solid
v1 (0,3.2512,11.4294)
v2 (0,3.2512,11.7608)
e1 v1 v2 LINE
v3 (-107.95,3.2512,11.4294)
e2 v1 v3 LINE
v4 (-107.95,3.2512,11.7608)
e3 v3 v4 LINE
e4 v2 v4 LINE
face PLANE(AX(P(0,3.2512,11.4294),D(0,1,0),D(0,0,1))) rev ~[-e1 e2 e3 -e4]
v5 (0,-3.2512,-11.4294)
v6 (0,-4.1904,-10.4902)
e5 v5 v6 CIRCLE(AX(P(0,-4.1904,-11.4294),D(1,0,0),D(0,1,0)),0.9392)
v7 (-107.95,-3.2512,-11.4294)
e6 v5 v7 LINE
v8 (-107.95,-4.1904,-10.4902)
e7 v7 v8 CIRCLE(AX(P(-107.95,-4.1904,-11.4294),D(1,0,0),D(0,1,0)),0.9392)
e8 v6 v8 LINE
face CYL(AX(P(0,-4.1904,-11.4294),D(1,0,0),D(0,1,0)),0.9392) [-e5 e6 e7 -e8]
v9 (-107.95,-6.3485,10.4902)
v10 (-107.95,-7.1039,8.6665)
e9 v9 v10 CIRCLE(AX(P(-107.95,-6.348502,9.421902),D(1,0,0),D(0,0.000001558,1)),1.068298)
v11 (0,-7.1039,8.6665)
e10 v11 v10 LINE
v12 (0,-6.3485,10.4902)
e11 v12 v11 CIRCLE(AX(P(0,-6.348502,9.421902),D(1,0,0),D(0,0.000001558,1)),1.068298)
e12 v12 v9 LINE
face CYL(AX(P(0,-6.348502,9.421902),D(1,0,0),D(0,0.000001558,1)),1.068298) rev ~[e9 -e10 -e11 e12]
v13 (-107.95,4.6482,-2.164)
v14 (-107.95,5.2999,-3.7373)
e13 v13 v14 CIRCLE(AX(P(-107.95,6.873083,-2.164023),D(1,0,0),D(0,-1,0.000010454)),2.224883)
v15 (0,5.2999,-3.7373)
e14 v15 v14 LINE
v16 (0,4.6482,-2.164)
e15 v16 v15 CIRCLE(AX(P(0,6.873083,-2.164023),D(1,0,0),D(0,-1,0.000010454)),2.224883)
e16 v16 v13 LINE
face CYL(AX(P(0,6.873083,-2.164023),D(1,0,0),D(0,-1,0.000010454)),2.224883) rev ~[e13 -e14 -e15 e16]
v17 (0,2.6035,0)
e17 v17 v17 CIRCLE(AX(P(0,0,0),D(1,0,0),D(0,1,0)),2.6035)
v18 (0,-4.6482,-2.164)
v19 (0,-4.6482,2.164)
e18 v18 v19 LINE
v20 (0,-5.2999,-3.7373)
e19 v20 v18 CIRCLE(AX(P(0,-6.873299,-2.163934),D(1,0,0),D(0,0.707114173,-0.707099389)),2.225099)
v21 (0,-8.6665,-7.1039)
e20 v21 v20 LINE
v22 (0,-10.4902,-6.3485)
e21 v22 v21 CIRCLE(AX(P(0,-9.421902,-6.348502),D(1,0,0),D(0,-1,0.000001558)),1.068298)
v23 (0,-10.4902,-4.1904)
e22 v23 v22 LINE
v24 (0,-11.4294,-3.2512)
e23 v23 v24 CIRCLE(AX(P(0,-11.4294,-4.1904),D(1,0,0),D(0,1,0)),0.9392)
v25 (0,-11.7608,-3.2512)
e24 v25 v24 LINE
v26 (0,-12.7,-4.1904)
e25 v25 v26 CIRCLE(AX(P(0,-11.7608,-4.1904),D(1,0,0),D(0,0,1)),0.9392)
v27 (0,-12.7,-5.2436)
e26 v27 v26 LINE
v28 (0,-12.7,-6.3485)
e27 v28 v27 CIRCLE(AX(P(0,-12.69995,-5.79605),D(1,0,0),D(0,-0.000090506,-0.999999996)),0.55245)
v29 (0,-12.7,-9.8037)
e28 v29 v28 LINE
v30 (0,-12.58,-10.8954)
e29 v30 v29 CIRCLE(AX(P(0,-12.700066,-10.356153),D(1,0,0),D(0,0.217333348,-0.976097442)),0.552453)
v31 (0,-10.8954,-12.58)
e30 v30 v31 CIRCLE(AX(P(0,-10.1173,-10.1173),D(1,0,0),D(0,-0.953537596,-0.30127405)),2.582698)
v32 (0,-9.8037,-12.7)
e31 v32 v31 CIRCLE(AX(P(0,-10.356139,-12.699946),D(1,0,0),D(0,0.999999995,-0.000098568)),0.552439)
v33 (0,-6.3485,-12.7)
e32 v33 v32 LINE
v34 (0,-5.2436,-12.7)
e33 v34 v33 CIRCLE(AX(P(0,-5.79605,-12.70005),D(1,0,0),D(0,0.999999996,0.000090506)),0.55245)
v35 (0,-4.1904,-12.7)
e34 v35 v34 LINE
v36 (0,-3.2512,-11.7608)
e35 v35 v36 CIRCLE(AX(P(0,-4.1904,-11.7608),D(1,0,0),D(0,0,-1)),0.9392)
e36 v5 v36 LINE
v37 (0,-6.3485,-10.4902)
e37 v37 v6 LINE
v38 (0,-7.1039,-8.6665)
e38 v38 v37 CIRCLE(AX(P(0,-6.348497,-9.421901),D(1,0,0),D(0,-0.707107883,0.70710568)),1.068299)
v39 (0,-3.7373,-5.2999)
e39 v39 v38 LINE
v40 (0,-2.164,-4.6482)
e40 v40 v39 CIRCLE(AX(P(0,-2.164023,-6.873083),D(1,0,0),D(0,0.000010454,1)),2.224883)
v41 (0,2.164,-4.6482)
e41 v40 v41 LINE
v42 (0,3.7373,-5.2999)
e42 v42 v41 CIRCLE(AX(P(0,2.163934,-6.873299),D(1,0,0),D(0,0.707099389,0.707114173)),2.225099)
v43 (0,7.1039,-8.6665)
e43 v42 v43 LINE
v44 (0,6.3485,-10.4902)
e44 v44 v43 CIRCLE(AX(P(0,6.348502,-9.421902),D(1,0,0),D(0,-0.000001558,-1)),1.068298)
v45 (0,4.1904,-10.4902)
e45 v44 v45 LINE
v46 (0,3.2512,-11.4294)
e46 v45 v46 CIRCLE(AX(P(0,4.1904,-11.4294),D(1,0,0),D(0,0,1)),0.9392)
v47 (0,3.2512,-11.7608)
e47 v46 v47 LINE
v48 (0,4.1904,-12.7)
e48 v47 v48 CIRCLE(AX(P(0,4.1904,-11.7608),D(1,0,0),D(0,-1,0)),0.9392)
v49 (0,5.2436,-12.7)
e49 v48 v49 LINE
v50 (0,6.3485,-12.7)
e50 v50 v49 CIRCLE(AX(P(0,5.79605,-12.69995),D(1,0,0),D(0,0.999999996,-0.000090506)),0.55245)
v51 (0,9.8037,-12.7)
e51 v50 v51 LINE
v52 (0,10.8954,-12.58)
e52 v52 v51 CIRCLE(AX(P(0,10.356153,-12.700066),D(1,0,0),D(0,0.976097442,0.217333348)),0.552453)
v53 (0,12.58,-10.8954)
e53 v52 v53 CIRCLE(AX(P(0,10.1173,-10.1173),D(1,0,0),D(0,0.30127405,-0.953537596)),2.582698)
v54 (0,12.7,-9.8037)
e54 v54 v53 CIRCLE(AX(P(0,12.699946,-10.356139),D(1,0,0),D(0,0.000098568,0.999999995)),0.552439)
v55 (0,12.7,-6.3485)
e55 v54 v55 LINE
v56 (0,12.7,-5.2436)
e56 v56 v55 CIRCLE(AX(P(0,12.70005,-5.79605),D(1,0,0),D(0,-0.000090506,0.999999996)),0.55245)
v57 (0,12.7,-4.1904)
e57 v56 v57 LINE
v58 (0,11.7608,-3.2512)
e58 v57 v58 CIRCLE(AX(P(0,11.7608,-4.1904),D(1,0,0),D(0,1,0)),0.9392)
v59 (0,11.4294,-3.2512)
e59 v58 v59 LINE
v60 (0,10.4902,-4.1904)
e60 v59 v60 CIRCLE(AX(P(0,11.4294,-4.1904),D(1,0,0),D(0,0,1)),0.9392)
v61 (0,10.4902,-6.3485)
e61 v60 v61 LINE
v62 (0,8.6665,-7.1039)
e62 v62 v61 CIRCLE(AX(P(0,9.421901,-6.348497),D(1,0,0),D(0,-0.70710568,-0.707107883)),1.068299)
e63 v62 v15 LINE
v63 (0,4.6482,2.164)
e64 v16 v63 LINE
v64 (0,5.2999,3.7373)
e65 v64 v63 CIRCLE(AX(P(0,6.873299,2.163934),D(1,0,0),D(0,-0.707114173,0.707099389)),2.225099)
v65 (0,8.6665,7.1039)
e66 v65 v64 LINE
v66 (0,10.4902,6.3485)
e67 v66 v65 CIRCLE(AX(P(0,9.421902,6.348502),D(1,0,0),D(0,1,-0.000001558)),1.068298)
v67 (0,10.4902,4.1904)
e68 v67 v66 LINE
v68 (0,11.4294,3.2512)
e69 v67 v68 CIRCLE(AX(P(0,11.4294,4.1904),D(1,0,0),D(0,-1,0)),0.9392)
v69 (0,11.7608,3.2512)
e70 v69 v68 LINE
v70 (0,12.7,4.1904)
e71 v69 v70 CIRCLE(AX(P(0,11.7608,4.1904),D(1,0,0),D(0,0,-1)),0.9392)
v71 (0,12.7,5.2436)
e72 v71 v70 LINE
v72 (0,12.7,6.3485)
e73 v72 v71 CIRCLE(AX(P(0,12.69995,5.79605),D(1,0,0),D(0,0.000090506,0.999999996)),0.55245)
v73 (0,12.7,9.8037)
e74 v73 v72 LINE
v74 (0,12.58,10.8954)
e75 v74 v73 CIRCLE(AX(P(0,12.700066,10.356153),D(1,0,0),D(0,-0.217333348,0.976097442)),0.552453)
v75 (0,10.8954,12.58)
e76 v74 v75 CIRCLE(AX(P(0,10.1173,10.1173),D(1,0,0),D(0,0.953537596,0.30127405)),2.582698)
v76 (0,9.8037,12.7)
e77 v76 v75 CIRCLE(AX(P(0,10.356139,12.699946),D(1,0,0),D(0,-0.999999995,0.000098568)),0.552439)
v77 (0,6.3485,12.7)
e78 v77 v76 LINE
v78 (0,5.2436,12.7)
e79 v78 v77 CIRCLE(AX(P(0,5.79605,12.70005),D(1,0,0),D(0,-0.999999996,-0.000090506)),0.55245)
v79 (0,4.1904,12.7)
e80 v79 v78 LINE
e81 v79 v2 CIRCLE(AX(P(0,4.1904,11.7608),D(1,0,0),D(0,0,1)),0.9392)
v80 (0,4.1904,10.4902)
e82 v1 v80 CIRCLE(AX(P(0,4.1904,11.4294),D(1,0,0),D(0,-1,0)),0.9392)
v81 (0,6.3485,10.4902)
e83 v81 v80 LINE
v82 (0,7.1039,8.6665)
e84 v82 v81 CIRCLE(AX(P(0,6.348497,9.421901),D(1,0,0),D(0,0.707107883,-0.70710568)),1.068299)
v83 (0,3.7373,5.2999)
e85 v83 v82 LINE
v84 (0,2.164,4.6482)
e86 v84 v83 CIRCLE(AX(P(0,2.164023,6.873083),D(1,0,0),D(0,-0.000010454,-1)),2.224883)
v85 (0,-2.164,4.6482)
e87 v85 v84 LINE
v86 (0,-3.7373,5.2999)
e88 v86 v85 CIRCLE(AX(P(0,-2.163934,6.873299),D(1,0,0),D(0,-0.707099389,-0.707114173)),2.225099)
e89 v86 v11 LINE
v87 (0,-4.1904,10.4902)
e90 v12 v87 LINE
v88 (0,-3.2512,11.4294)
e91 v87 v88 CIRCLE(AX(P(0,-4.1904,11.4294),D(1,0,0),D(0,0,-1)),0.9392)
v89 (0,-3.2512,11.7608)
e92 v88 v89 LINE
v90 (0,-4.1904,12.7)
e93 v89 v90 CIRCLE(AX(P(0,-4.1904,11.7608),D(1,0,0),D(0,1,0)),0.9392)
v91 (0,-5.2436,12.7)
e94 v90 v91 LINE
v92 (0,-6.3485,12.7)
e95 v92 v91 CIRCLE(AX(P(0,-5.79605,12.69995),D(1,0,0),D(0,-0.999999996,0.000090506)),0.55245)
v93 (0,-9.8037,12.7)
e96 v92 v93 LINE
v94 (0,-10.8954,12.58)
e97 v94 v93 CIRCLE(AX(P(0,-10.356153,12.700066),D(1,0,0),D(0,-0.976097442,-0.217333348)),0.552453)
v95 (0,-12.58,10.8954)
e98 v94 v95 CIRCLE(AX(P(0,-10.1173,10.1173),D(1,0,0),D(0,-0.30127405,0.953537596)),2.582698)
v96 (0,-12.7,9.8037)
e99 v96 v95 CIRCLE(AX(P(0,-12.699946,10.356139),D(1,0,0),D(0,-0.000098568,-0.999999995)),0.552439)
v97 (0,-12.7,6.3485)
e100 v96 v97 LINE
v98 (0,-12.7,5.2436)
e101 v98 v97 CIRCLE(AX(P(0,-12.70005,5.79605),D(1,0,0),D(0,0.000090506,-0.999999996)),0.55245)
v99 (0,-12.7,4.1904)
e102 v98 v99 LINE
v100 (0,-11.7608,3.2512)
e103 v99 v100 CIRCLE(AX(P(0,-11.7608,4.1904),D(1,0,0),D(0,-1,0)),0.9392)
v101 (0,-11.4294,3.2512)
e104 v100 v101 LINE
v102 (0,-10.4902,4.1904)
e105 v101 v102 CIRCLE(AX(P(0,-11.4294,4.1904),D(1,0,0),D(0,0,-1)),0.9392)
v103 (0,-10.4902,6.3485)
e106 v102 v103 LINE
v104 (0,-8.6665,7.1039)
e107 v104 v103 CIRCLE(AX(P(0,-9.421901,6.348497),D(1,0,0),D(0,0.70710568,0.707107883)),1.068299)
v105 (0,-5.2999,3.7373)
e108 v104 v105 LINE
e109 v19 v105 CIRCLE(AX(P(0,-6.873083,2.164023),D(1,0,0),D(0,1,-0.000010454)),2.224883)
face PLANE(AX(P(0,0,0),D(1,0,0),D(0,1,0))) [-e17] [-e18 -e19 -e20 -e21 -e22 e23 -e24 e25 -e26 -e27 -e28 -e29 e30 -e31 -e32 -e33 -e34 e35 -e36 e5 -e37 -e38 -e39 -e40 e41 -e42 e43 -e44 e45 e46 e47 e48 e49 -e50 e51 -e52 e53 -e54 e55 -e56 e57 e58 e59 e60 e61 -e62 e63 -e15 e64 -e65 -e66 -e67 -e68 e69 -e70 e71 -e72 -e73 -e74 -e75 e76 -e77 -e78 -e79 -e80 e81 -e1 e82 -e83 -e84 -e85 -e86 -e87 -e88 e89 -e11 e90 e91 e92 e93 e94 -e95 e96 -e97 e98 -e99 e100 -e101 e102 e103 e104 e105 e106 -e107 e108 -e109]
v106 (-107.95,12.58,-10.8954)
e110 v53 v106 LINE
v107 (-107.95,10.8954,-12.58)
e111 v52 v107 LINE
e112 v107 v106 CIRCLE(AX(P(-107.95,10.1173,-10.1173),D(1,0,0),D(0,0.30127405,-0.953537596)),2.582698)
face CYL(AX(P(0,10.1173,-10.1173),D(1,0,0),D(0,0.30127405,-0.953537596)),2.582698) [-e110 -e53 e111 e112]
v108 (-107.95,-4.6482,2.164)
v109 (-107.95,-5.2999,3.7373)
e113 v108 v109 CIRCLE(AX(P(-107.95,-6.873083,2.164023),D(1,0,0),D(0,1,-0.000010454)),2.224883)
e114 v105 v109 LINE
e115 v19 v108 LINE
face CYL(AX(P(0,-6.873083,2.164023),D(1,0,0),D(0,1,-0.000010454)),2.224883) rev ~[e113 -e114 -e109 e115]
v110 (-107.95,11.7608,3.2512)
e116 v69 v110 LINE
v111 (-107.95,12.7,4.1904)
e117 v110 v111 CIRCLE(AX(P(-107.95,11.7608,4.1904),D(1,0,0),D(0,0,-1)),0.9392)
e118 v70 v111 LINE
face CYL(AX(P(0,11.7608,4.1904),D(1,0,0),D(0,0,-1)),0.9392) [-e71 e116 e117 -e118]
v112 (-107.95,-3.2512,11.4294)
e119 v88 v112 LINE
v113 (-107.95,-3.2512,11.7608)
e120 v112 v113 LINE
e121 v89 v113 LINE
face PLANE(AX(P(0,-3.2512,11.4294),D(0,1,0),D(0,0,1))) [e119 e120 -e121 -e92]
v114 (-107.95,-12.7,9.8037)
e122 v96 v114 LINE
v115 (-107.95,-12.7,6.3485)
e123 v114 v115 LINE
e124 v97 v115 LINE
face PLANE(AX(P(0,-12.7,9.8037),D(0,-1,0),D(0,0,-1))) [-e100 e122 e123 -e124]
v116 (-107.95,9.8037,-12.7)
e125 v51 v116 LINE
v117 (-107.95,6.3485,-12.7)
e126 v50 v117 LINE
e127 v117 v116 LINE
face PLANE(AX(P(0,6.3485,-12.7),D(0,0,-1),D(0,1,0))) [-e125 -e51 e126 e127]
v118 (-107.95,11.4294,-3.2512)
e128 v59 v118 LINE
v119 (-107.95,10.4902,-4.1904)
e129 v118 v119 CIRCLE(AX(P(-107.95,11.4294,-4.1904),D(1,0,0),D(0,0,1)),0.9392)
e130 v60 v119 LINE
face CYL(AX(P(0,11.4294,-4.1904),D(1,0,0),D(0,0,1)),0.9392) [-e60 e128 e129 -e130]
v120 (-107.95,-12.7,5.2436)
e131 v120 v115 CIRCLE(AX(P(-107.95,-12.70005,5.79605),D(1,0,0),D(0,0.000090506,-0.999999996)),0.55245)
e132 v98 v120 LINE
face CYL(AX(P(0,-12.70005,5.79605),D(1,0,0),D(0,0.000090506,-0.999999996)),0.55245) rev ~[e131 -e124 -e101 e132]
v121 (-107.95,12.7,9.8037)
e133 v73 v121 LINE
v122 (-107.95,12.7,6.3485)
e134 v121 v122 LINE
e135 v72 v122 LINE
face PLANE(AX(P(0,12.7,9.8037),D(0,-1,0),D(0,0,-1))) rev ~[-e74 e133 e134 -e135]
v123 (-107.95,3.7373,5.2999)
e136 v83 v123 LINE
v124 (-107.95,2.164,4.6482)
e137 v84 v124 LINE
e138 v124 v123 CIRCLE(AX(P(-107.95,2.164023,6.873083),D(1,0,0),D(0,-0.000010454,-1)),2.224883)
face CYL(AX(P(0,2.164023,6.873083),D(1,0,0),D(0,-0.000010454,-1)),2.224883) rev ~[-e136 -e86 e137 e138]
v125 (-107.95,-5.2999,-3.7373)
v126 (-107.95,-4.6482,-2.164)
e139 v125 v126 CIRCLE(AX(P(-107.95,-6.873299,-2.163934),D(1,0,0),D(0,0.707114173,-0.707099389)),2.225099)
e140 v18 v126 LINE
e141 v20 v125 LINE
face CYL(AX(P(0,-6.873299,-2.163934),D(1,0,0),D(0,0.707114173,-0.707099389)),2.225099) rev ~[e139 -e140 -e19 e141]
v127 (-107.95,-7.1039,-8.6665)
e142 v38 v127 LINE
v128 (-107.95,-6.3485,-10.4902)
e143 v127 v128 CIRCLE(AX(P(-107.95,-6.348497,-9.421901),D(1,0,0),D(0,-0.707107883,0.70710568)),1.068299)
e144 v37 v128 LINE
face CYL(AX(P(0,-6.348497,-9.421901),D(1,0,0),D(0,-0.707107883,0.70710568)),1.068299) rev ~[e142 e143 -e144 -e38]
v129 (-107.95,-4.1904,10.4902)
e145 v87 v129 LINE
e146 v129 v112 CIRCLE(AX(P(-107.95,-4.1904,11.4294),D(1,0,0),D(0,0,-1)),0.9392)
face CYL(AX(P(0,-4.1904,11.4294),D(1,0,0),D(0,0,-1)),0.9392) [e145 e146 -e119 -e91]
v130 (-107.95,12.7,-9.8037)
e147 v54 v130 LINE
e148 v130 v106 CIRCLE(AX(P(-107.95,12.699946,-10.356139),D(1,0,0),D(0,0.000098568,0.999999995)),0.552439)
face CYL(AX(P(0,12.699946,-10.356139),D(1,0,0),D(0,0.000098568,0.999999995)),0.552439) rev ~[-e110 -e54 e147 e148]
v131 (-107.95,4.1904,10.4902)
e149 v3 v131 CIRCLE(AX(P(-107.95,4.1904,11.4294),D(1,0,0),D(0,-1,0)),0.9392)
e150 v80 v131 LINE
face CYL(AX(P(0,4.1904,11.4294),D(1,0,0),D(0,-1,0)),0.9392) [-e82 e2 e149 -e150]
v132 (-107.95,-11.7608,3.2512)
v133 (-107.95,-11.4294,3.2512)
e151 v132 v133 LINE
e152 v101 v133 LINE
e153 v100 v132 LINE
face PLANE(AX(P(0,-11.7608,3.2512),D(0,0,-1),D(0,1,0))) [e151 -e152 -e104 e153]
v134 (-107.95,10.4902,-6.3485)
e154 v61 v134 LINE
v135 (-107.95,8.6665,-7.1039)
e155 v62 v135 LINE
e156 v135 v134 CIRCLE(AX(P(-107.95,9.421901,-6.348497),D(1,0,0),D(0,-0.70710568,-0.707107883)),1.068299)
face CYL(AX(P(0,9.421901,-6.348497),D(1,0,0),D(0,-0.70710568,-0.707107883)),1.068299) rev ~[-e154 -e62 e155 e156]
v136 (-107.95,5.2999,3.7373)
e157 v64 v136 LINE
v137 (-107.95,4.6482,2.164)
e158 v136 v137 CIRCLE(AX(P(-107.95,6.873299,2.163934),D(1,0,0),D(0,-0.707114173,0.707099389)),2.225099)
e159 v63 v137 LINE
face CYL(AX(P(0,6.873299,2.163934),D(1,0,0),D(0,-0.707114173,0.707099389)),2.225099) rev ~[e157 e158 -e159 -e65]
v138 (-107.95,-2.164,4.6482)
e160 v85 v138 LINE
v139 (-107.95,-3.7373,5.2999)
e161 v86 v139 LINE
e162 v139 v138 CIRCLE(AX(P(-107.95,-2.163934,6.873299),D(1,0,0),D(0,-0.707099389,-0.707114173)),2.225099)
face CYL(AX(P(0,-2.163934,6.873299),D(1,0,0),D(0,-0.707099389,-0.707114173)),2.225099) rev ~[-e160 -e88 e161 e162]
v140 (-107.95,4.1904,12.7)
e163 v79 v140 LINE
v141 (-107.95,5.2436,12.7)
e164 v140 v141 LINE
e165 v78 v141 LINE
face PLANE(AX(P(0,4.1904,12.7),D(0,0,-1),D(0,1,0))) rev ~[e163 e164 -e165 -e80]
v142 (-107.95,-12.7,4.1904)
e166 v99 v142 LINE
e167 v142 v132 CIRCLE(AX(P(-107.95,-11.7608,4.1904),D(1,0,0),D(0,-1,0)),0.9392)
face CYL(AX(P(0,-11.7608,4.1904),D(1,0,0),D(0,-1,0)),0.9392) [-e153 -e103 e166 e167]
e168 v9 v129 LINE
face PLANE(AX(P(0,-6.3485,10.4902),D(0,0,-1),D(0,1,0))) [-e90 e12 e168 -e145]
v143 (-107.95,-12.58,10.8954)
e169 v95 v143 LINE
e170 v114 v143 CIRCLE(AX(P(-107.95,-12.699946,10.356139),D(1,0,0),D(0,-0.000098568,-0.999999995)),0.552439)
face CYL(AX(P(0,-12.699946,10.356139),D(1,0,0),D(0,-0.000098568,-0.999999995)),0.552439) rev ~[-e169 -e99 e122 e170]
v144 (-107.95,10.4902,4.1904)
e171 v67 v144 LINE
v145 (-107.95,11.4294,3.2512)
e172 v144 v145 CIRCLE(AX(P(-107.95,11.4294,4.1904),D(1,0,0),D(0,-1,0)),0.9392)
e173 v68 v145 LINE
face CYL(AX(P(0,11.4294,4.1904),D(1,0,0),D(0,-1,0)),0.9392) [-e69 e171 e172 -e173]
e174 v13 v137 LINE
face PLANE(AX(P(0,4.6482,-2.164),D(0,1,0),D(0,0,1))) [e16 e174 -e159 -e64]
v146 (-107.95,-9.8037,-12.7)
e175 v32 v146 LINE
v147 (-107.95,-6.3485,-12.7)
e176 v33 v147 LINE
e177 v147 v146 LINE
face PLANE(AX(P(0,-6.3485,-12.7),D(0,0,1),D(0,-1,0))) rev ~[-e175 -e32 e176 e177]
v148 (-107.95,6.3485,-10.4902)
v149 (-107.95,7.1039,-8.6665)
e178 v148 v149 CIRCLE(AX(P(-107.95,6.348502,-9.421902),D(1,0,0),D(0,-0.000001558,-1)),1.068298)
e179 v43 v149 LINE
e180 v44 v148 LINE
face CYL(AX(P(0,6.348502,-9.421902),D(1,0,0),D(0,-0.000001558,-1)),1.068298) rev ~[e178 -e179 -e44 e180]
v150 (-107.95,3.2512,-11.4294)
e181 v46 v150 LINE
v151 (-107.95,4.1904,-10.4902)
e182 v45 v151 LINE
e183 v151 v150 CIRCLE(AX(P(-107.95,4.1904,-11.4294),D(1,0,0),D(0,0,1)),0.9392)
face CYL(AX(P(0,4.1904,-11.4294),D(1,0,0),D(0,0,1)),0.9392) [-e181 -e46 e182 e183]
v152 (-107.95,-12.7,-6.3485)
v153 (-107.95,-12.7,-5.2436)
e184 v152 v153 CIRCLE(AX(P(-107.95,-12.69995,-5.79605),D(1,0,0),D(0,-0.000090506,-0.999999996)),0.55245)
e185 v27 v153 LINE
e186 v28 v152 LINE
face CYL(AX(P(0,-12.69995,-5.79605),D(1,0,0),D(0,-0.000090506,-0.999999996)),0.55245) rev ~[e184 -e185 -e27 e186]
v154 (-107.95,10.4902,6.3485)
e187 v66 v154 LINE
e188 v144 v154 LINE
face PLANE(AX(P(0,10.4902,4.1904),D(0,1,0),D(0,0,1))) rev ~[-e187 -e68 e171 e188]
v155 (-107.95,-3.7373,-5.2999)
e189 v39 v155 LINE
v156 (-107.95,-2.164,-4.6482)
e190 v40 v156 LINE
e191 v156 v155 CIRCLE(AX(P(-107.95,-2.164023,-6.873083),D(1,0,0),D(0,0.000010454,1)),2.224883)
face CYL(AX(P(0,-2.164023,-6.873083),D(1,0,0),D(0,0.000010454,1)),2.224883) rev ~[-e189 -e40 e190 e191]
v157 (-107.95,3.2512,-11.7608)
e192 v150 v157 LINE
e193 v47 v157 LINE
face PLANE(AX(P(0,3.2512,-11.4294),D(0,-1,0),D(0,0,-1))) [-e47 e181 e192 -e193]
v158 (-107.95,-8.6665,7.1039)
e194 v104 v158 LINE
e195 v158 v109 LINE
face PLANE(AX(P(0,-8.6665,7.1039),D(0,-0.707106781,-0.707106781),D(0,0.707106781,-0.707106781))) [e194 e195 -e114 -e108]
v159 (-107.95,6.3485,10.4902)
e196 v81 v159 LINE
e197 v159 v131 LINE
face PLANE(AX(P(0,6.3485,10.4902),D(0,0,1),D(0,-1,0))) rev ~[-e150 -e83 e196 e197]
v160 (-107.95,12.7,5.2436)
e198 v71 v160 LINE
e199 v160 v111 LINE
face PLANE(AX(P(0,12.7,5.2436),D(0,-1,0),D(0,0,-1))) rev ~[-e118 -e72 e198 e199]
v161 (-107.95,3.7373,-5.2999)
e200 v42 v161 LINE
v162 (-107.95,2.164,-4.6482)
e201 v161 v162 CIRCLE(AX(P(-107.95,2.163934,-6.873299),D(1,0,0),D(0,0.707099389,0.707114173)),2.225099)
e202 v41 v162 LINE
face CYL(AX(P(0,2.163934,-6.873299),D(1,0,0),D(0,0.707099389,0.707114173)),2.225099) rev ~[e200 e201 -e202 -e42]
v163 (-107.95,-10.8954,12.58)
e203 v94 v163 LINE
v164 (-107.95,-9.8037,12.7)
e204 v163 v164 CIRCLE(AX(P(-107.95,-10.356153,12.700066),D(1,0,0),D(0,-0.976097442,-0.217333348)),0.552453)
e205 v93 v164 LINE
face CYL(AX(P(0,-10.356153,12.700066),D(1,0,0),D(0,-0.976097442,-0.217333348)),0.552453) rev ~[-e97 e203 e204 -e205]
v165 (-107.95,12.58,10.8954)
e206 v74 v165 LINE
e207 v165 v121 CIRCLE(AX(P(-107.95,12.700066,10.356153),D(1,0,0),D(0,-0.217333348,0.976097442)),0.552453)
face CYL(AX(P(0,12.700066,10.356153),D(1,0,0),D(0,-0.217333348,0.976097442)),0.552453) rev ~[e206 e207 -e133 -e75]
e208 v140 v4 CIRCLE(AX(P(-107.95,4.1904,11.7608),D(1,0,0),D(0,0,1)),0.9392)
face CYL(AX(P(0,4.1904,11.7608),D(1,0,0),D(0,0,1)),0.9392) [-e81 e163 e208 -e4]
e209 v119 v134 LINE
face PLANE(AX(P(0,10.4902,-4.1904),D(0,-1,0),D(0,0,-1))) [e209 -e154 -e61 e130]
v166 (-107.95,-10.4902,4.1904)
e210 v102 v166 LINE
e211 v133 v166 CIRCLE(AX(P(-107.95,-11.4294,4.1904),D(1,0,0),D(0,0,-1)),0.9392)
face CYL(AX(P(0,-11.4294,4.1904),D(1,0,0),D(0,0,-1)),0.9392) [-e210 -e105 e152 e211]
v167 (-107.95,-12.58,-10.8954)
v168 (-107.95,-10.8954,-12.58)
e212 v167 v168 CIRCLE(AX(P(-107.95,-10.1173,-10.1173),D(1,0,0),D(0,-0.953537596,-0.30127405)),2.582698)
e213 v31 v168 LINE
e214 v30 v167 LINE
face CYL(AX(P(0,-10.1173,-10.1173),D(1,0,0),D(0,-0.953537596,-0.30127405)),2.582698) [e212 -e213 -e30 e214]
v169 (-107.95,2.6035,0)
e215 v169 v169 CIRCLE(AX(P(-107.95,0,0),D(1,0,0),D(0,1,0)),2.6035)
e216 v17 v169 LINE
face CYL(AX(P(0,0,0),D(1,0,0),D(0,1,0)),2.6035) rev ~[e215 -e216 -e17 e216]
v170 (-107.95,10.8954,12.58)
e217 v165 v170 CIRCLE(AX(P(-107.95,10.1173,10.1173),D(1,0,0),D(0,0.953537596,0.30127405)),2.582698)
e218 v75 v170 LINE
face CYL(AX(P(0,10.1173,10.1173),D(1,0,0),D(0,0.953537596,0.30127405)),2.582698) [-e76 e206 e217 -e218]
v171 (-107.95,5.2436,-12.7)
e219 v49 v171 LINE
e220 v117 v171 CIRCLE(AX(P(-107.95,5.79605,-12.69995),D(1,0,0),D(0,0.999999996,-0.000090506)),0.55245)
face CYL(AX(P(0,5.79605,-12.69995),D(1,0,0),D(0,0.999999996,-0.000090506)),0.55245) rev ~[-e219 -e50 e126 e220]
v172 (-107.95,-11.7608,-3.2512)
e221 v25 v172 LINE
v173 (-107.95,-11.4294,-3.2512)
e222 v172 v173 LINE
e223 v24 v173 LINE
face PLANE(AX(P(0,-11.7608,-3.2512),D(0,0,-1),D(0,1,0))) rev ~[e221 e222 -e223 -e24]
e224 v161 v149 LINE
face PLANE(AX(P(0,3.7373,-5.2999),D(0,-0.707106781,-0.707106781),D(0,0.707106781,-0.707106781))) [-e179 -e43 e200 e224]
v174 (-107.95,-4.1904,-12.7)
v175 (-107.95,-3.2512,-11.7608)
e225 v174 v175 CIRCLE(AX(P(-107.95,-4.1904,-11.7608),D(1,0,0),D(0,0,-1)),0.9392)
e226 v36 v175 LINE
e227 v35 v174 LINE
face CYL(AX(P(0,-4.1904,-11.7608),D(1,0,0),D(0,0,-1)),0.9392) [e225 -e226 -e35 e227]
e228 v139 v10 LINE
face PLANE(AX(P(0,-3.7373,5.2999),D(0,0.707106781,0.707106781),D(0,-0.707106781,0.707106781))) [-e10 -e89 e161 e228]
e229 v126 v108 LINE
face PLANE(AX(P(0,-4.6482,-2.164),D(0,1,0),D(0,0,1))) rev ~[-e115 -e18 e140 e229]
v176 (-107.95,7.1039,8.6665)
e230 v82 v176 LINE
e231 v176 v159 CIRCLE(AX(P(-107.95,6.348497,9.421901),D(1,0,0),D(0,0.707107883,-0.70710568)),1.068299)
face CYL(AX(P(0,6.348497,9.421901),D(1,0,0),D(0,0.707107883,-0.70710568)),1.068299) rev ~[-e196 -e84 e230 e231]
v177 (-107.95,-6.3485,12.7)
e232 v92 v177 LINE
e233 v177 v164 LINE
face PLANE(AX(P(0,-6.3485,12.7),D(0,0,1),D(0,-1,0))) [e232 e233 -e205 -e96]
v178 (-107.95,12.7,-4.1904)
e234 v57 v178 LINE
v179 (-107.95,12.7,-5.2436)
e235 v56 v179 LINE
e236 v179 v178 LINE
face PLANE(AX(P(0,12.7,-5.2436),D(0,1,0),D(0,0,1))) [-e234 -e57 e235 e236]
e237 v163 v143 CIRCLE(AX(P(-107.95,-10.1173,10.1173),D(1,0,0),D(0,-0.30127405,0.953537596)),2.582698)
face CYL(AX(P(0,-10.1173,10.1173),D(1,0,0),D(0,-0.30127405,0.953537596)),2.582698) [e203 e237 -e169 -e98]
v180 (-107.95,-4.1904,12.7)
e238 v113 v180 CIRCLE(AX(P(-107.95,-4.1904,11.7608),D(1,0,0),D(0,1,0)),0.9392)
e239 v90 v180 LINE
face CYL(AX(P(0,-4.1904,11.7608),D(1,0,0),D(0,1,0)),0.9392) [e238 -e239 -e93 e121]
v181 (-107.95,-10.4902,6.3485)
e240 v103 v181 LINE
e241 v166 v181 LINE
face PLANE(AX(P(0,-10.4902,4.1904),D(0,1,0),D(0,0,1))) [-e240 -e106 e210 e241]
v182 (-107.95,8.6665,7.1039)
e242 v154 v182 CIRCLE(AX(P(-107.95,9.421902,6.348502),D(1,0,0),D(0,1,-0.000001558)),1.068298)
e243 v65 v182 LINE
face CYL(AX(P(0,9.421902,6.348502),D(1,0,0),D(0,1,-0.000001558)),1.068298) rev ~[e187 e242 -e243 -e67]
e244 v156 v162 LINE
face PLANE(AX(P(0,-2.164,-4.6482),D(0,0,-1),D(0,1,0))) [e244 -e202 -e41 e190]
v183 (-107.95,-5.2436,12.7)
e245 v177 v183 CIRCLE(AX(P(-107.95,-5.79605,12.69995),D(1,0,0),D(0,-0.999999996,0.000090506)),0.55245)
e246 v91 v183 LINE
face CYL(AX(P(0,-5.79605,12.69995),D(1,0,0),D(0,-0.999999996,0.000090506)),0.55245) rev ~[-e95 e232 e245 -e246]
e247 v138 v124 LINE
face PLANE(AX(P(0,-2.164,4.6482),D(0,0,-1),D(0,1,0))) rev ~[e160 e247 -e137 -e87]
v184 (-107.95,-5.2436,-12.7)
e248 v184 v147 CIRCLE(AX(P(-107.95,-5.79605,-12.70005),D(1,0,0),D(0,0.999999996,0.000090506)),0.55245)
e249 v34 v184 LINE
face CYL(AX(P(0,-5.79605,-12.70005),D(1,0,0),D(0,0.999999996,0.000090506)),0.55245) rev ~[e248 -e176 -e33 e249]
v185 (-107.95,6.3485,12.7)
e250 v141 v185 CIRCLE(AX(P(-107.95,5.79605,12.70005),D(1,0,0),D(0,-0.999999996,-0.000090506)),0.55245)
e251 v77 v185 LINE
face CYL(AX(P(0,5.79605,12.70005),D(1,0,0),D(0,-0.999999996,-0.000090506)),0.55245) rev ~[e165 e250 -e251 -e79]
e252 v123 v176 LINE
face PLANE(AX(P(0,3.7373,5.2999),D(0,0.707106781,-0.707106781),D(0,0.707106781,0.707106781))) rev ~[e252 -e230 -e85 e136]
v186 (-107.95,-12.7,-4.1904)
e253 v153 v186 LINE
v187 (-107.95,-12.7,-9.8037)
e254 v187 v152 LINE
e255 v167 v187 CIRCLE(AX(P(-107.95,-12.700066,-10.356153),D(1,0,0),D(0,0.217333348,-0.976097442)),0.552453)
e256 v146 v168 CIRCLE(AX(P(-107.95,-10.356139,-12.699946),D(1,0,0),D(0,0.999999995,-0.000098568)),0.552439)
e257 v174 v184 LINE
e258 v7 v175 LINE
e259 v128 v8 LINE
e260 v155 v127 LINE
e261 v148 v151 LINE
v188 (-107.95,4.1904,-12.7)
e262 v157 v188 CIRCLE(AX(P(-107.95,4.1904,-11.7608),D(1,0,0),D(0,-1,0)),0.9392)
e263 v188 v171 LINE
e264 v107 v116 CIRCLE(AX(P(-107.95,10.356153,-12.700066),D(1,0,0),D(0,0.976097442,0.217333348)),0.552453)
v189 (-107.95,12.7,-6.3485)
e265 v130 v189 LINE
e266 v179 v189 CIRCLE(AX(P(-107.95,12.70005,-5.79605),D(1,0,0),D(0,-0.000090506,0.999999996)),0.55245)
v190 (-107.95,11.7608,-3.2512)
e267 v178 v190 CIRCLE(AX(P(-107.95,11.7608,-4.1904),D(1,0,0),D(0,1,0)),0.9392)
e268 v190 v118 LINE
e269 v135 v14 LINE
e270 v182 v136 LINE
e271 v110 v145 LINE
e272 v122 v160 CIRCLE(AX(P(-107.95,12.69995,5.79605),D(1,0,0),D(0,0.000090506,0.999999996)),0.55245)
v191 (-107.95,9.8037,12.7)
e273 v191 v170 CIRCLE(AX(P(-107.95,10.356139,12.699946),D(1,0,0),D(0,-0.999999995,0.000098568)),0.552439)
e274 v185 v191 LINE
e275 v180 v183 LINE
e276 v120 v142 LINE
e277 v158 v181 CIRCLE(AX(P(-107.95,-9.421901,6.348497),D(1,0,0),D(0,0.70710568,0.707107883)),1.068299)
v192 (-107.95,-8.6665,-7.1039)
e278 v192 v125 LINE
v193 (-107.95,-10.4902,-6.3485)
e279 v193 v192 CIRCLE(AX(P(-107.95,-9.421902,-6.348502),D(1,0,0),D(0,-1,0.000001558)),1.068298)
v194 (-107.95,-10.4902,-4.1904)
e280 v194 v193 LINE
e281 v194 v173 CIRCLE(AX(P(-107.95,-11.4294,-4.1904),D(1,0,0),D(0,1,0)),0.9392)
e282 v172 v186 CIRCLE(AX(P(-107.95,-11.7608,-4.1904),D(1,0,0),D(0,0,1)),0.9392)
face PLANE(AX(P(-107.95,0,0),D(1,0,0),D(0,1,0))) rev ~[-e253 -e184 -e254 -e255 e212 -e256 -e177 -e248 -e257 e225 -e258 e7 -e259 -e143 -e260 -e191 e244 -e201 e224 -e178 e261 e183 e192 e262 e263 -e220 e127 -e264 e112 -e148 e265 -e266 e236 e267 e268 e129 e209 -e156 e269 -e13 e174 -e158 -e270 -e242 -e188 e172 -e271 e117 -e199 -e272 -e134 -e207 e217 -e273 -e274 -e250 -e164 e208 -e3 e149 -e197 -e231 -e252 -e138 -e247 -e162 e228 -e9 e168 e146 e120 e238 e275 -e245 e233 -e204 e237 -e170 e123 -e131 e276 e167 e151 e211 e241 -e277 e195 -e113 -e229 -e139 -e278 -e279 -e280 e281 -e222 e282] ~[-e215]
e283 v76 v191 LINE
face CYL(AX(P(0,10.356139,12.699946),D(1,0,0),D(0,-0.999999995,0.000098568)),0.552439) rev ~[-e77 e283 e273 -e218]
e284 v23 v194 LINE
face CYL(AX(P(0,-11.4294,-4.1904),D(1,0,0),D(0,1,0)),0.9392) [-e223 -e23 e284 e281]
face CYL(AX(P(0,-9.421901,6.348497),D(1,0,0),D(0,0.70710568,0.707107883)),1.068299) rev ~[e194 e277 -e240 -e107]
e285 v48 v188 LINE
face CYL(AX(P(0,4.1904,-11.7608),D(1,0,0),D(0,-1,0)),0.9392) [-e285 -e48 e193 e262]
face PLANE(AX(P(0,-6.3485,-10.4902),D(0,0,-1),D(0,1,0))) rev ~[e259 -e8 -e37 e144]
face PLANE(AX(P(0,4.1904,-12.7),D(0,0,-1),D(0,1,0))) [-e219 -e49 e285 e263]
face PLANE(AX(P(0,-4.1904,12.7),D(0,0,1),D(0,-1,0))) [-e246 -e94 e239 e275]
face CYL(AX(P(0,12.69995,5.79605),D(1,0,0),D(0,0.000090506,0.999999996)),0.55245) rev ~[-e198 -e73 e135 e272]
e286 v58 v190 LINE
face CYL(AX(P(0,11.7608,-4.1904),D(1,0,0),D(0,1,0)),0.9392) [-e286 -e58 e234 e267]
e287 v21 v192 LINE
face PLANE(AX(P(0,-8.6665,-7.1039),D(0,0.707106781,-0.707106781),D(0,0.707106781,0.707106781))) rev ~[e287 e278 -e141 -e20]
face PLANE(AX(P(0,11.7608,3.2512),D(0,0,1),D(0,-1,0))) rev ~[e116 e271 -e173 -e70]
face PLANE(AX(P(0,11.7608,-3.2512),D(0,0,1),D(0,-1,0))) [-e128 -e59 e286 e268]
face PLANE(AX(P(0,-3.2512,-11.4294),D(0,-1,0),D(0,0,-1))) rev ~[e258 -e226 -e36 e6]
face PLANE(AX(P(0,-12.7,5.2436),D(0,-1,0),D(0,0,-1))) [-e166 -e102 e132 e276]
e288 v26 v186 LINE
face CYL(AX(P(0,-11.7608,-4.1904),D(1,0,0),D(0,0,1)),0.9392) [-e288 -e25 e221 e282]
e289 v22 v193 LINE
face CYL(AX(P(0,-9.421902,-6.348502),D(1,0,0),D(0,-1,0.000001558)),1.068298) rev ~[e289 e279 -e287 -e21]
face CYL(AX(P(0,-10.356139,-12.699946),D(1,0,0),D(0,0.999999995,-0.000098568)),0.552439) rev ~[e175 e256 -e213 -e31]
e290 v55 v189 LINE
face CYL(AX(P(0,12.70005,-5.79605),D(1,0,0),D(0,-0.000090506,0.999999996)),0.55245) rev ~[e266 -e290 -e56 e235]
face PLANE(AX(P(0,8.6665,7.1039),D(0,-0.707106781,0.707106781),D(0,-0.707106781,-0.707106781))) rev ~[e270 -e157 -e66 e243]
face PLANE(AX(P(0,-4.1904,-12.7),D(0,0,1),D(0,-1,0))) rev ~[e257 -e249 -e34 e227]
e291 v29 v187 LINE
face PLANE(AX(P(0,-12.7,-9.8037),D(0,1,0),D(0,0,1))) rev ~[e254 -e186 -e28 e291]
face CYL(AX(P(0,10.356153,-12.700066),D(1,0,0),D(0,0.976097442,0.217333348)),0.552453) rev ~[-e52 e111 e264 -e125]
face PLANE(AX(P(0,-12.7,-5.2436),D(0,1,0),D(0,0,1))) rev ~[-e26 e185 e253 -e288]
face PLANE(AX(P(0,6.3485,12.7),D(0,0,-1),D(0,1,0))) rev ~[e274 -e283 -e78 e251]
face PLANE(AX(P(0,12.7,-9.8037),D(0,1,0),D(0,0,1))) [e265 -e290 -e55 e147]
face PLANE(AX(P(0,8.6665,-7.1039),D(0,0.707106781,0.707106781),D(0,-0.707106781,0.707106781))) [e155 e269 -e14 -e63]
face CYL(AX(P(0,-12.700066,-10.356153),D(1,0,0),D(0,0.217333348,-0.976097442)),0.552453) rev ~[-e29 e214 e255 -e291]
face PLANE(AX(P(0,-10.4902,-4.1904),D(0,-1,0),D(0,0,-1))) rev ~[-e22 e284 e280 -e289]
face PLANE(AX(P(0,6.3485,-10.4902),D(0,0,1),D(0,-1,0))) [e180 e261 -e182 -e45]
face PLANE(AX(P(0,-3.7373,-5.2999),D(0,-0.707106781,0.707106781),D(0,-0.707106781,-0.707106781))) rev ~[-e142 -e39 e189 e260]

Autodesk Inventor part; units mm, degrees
ref_plane "YZ Plane" through (0, 0, 0) normal (1, 0, 0) x (0, 1, 0)
ref_plane "XZ Plane" through (0, 0, 0) normal (0, 1, 0) x (-1, 0, 0)
ref_plane "XY Plane" through (0, 0, 0) normal (0, 0, 1) x (1, 0, 0)
sketch "Sketch1" plane through (0, 0, 0) normal (1, 0, 0) x (0, 1, 0)
  arc A0 (12.7, -5.2436) -> (12.7, -6.3485) centre (12.7, -5.796) ccw
  line L0 (12.7, -5.2436) -> (12.7, -4.1904)
  arc A1 (12.7, -4.1904) -> (11.7608, -3.2512) centre (11.7608, -4.1904) ccw
  line L1 (11.7608, -3.2512) -> (11.4294, -3.2512)
  arc A2 (11.4294, -3.2512) -> (10.4902, -4.1904) centre (11.4294, -4.1904) ccw
  line L2 (10.4902, -4.1904) -> (10.4902, -6.3485)
  arc A3 (8.6665, -7.1039) -> (10.4902, -6.3485) centre (9.4219, -6.3485) ccw
  line L3 (8.6665, -7.1039) -> (5.2999, -3.7373)
  arc A4 (4.6482, -2.164) -> (5.2999, -3.7373) centre (6.8732, -2.164) ccw
  line L4 (4.6482, -2.164) -> (4.6482, 2.164)
  arc A5 (5.2999, 3.7373) -> (4.6482, 2.164) centre (6.8732, 2.164) ccw
  line L5 (8.6665, 7.1039) -> (5.2999, 3.7373)
  arc A6 (10.4902, 6.3485) -> (8.6665, 7.1039) centre (9.4219, 6.3485) ccw
  line L6 (10.4902, 4.1904) -> (10.4902, 6.3485)
  arc A7 (10.4902, 4.1904) -> (11.4294, 3.2512) centre (11.4294, 4.1904) ccw
  line L7 (11.7608, 3.2512) -> (11.4294, 3.2512)
  arc A8 (11.7608, 3.2512) -> (12.7, 4.1904) centre (11.7608, 4.1904) ccw
  line L8 (12.7, 5.2436) -> (12.7, 4.1904)
  arc A9 (12.7, 6.3485) -> (12.7, 5.2436) centre (12.7, 5.796) ccw
  line L9 (12.7, 9.8037) -> (12.7, 6.3485)
  arc A10 (12.58, 10.8954) -> (12.7, 9.8037) centre (12.7, 10.3562) ccw
  arc A11 (12.58, 10.8954) -> (10.8954, 12.58) centre (10.1173, 10.1173) ccw
  arc A12 (9.8037, 12.7) -> (10.8954, 12.58) centre (10.3562, 12.7) ccw
  line L10 (6.3485, 12.7) -> (9.8037, 12.7)
  arc A13 (5.2436, 12.7) -> (6.3485, 12.7) centre (5.796, 12.7) ccw
  line L11 (4.1904, 12.7) -> (5.2436, 12.7)
  arc A14 (4.1904, 12.7) -> (3.2512, 11.7608) centre (4.1904, 11.7608) ccw
  line L12 (3.2512, 11.4294) -> (3.2512, 11.7608)
  arc A15 (3.2512, 11.4294) -> (4.1904, 10.4902) centre (4.1904, 11.4294) ccw
  line L13 (6.3485, 10.4902) -> (4.1904, 10.4902)
  arc A16 (7.1039, 8.6665) -> (6.3485, 10.4902) centre (6.3485, 9.4219) ccw
  line L14 (3.7373, 5.2999) -> (7.1039, 8.6665)
  arc A17 (2.164, 4.6482) -> (3.7373, 5.2999) centre (2.164, 6.8732) ccw
  line L15 (-2.164, 4.6482) -> (2.164, 4.6482)
  arc A18 (-3.7373, 5.2999) -> (-2.164, 4.6482) centre (-2.164, 6.8732) ccw
  line L16 (-3.7373, 5.2999) -> (-7.1039, 8.6665)
  arc A19 (-6.3485, 10.4902) -> (-7.1039, 8.6665) centre (-6.3485, 9.4219) ccw
  line L17 (-6.3485, 10.4902) -> (-4.1904, 10.4902)
  arc A20 (-4.1904, 10.4902) -> (-3.2512, 11.4294) centre (-4.1904, 11.4294) ccw
  line L18 (-3.2512, 11.4294) -> (-3.2512, 11.7608)
  arc A21 (-3.2512, 11.7608) -> (-4.1904, 12.7) centre (-4.1904, 11.7608) ccw
  line L19 (-4.1904, 12.7) -> (-5.2436, 12.7)
  arc A22 (-6.3485, 12.7) -> (-5.2436, 12.7) centre (-5.796, 12.7) ccw
  line L20 (-6.3485, 12.7) -> (-9.8037, 12.7)
  arc A23 (-10.8954, 12.58) -> (-9.8037, 12.7) centre (-10.3562, 12.7) ccw
  arc A24 (-10.8954, 12.58) -> (-12.58, 10.8954) centre (-10.1173, 10.1173) ccw
  arc A25 (-12.7, 9.8037) -> (-12.58, 10.8954) centre (-12.7, 10.3562) ccw
  line L21 (-12.7, 9.8037) -> (-12.7, 6.3485)
  arc A26 (-12.7, 5.2436) -> (-12.7, 6.3485) centre (-12.7, 5.796) ccw
  line L22 (-12.7, 5.2436) -> (-12.7, 4.1904)
  arc A27 (-12.7, 4.1904) -> (-11.7608, 3.2512) centre (-11.7608, 4.1904) ccw
  line L23 (-11.7608, 3.2512) -> (-11.4294, 3.2512)
  arc A28 (-11.4294, 3.2512) -> (-10.4902, 4.1904) centre (-11.4294, 4.1904) ccw
  line L24 (-10.4902, 4.1904) -> (-10.4902, 6.3485)
  arc A29 (-8.6665, 7.1039) -> (-10.4902, 6.3485) centre (-9.4219, 6.3485) ccw
  line L25 (-8.6665, 7.1039) -> (-5.2999, 3.7373)
  arc A30 (-4.6482, 2.164) -> (-5.2999, 3.7373) centre (-6.8732, 2.164) ccw
  line L26 (-4.6482, -2.164) -> (-4.6482, 2.164)
  arc A31 (-5.2999, -3.7373) -> (-4.6482, -2.164) centre (-6.8732, -2.164) ccw
  line L27 (-8.6665, -7.1039) -> (-5.2999, -3.7373)
  arc A32 (-10.4902, -6.3485) -> (-8.6665, -7.1039) centre (-9.4219, -6.3485) ccw
  line L28 (-10.4902, -4.1904) -> (-10.4902, -6.3485)
  arc A33 (-10.4902, -4.1904) -> (-11.4294, -3.2512) centre (-11.4294, -4.1904) ccw
  line L29 (-11.7608, -3.2512) -> (-11.4294, -3.2512)
  arc A34 (-11.7608, -3.2512) -> (-12.7, -4.1904) centre (-11.7608, -4.1904) ccw
  line L30 (-12.7, -5.2436) -> (-12.7, -4.1904)
  arc A35 (-12.7, -6.3485) -> (-12.7, -5.2436) centre (-12.7, -5.796) ccw
  line L31 (-12.7, -9.8037) -> (-12.7, -6.3485)
  arc A36 (-12.58, -10.8954) -> (-12.7, -9.8037) centre (-12.7, -10.3562) ccw
  arc A37 (-12.58, -10.8954) -> (-10.8954, -12.58) centre (-10.1173, -10.1173) ccw
  arc A38 (-9.8037, -12.7) -> (-10.8954, -12.58) centre (-10.3562, -12.7) ccw
  line L32 (-6.3485, -12.7) -> (-9.8037, -12.7)
  arc A39 (-5.2436, -12.7) -> (-6.3485, -12.7) centre (-5.796, -12.7) ccw
  line L33 (-4.1904, -12.7) -> (-5.2436, -12.7)
  arc A40 (-4.1904, -12.7) -> (-3.2512, -11.7608) centre (-4.1904, -11.7608) ccw
  line L34 (-3.2512, -11.4294) -> (-3.2512, -11.7608)
  arc A41 (-3.2512, -11.4294) -> (-4.1904, -10.4902) centre (-4.1904, -11.4294) ccw
  line L35 (-6.3485, -10.4902) -> (-4.1904, -10.4902)
  arc A42 (-7.1039, -8.6665) -> (-6.3485, -10.4902) centre (-6.3485, -9.4219) ccw
  line L36 (-3.7373, -5.2999) -> (-7.1039, -8.6665)
  arc A43 (-2.164, -4.6482) -> (-3.7373, -5.2999) centre (-2.164, -6.8732) ccw
  line L37 (-2.164, -4.6482) -> (2.164, -4.6482)
  arc A44 (3.7373, -5.2999) -> (2.164, -4.6482) centre (2.164, -6.8732) ccw
  line L38 (3.7373, -5.2999) -> (7.1039, -8.6665)
  arc A45 (6.3485, -10.4902) -> (7.1039, -8.6665) centre (6.3485, -9.4219) ccw
  line L39 (6.3485, -10.4902) -> (4.1904, -10.4902)
  arc A46 (4.1904, -10.4902) -> (3.2512, -11.4294) centre (4.1904, -11.4294) ccw
  line L40 (3.2512, -11.4294) -> (3.2512, -11.7608)
  arc A47 (3.2512, -11.7608) -> (4.1904, -12.7) centre (4.1904, -11.7608) ccw
  line L41 (4.1904, -12.7) -> (5.2436, -12.7)
  arc A48 (6.3485, -12.7) -> (5.2436, -12.7) centre (5.796, -12.7) ccw
  line L42 (6.3485, -12.7) -> (9.8037, -12.7)
  arc A49 (10.8954, -12.58) -> (9.8037, -12.7) centre (10.3562, -12.7) ccw
  arc A50 (10.8954, -12.58) -> (12.58, -10.8954) centre (10.1173, -10.1173) ccw
  arc A51 (12.7, -9.8037) -> (12.58, -10.8954) centre (12.7, -10.3562) ccw
  line L43 (12.7, -9.8037) -> (12.7, -6.3485)
  circle A52 centre (0, 0) radius 2.6035
  point P0 (0, 0)
  point P1 (0, 0)
extrude "Extrusion1" add sketch "Sketch1" against normal blind 107.95
properties part number "rearStrut" material "Aluminum 6061"
